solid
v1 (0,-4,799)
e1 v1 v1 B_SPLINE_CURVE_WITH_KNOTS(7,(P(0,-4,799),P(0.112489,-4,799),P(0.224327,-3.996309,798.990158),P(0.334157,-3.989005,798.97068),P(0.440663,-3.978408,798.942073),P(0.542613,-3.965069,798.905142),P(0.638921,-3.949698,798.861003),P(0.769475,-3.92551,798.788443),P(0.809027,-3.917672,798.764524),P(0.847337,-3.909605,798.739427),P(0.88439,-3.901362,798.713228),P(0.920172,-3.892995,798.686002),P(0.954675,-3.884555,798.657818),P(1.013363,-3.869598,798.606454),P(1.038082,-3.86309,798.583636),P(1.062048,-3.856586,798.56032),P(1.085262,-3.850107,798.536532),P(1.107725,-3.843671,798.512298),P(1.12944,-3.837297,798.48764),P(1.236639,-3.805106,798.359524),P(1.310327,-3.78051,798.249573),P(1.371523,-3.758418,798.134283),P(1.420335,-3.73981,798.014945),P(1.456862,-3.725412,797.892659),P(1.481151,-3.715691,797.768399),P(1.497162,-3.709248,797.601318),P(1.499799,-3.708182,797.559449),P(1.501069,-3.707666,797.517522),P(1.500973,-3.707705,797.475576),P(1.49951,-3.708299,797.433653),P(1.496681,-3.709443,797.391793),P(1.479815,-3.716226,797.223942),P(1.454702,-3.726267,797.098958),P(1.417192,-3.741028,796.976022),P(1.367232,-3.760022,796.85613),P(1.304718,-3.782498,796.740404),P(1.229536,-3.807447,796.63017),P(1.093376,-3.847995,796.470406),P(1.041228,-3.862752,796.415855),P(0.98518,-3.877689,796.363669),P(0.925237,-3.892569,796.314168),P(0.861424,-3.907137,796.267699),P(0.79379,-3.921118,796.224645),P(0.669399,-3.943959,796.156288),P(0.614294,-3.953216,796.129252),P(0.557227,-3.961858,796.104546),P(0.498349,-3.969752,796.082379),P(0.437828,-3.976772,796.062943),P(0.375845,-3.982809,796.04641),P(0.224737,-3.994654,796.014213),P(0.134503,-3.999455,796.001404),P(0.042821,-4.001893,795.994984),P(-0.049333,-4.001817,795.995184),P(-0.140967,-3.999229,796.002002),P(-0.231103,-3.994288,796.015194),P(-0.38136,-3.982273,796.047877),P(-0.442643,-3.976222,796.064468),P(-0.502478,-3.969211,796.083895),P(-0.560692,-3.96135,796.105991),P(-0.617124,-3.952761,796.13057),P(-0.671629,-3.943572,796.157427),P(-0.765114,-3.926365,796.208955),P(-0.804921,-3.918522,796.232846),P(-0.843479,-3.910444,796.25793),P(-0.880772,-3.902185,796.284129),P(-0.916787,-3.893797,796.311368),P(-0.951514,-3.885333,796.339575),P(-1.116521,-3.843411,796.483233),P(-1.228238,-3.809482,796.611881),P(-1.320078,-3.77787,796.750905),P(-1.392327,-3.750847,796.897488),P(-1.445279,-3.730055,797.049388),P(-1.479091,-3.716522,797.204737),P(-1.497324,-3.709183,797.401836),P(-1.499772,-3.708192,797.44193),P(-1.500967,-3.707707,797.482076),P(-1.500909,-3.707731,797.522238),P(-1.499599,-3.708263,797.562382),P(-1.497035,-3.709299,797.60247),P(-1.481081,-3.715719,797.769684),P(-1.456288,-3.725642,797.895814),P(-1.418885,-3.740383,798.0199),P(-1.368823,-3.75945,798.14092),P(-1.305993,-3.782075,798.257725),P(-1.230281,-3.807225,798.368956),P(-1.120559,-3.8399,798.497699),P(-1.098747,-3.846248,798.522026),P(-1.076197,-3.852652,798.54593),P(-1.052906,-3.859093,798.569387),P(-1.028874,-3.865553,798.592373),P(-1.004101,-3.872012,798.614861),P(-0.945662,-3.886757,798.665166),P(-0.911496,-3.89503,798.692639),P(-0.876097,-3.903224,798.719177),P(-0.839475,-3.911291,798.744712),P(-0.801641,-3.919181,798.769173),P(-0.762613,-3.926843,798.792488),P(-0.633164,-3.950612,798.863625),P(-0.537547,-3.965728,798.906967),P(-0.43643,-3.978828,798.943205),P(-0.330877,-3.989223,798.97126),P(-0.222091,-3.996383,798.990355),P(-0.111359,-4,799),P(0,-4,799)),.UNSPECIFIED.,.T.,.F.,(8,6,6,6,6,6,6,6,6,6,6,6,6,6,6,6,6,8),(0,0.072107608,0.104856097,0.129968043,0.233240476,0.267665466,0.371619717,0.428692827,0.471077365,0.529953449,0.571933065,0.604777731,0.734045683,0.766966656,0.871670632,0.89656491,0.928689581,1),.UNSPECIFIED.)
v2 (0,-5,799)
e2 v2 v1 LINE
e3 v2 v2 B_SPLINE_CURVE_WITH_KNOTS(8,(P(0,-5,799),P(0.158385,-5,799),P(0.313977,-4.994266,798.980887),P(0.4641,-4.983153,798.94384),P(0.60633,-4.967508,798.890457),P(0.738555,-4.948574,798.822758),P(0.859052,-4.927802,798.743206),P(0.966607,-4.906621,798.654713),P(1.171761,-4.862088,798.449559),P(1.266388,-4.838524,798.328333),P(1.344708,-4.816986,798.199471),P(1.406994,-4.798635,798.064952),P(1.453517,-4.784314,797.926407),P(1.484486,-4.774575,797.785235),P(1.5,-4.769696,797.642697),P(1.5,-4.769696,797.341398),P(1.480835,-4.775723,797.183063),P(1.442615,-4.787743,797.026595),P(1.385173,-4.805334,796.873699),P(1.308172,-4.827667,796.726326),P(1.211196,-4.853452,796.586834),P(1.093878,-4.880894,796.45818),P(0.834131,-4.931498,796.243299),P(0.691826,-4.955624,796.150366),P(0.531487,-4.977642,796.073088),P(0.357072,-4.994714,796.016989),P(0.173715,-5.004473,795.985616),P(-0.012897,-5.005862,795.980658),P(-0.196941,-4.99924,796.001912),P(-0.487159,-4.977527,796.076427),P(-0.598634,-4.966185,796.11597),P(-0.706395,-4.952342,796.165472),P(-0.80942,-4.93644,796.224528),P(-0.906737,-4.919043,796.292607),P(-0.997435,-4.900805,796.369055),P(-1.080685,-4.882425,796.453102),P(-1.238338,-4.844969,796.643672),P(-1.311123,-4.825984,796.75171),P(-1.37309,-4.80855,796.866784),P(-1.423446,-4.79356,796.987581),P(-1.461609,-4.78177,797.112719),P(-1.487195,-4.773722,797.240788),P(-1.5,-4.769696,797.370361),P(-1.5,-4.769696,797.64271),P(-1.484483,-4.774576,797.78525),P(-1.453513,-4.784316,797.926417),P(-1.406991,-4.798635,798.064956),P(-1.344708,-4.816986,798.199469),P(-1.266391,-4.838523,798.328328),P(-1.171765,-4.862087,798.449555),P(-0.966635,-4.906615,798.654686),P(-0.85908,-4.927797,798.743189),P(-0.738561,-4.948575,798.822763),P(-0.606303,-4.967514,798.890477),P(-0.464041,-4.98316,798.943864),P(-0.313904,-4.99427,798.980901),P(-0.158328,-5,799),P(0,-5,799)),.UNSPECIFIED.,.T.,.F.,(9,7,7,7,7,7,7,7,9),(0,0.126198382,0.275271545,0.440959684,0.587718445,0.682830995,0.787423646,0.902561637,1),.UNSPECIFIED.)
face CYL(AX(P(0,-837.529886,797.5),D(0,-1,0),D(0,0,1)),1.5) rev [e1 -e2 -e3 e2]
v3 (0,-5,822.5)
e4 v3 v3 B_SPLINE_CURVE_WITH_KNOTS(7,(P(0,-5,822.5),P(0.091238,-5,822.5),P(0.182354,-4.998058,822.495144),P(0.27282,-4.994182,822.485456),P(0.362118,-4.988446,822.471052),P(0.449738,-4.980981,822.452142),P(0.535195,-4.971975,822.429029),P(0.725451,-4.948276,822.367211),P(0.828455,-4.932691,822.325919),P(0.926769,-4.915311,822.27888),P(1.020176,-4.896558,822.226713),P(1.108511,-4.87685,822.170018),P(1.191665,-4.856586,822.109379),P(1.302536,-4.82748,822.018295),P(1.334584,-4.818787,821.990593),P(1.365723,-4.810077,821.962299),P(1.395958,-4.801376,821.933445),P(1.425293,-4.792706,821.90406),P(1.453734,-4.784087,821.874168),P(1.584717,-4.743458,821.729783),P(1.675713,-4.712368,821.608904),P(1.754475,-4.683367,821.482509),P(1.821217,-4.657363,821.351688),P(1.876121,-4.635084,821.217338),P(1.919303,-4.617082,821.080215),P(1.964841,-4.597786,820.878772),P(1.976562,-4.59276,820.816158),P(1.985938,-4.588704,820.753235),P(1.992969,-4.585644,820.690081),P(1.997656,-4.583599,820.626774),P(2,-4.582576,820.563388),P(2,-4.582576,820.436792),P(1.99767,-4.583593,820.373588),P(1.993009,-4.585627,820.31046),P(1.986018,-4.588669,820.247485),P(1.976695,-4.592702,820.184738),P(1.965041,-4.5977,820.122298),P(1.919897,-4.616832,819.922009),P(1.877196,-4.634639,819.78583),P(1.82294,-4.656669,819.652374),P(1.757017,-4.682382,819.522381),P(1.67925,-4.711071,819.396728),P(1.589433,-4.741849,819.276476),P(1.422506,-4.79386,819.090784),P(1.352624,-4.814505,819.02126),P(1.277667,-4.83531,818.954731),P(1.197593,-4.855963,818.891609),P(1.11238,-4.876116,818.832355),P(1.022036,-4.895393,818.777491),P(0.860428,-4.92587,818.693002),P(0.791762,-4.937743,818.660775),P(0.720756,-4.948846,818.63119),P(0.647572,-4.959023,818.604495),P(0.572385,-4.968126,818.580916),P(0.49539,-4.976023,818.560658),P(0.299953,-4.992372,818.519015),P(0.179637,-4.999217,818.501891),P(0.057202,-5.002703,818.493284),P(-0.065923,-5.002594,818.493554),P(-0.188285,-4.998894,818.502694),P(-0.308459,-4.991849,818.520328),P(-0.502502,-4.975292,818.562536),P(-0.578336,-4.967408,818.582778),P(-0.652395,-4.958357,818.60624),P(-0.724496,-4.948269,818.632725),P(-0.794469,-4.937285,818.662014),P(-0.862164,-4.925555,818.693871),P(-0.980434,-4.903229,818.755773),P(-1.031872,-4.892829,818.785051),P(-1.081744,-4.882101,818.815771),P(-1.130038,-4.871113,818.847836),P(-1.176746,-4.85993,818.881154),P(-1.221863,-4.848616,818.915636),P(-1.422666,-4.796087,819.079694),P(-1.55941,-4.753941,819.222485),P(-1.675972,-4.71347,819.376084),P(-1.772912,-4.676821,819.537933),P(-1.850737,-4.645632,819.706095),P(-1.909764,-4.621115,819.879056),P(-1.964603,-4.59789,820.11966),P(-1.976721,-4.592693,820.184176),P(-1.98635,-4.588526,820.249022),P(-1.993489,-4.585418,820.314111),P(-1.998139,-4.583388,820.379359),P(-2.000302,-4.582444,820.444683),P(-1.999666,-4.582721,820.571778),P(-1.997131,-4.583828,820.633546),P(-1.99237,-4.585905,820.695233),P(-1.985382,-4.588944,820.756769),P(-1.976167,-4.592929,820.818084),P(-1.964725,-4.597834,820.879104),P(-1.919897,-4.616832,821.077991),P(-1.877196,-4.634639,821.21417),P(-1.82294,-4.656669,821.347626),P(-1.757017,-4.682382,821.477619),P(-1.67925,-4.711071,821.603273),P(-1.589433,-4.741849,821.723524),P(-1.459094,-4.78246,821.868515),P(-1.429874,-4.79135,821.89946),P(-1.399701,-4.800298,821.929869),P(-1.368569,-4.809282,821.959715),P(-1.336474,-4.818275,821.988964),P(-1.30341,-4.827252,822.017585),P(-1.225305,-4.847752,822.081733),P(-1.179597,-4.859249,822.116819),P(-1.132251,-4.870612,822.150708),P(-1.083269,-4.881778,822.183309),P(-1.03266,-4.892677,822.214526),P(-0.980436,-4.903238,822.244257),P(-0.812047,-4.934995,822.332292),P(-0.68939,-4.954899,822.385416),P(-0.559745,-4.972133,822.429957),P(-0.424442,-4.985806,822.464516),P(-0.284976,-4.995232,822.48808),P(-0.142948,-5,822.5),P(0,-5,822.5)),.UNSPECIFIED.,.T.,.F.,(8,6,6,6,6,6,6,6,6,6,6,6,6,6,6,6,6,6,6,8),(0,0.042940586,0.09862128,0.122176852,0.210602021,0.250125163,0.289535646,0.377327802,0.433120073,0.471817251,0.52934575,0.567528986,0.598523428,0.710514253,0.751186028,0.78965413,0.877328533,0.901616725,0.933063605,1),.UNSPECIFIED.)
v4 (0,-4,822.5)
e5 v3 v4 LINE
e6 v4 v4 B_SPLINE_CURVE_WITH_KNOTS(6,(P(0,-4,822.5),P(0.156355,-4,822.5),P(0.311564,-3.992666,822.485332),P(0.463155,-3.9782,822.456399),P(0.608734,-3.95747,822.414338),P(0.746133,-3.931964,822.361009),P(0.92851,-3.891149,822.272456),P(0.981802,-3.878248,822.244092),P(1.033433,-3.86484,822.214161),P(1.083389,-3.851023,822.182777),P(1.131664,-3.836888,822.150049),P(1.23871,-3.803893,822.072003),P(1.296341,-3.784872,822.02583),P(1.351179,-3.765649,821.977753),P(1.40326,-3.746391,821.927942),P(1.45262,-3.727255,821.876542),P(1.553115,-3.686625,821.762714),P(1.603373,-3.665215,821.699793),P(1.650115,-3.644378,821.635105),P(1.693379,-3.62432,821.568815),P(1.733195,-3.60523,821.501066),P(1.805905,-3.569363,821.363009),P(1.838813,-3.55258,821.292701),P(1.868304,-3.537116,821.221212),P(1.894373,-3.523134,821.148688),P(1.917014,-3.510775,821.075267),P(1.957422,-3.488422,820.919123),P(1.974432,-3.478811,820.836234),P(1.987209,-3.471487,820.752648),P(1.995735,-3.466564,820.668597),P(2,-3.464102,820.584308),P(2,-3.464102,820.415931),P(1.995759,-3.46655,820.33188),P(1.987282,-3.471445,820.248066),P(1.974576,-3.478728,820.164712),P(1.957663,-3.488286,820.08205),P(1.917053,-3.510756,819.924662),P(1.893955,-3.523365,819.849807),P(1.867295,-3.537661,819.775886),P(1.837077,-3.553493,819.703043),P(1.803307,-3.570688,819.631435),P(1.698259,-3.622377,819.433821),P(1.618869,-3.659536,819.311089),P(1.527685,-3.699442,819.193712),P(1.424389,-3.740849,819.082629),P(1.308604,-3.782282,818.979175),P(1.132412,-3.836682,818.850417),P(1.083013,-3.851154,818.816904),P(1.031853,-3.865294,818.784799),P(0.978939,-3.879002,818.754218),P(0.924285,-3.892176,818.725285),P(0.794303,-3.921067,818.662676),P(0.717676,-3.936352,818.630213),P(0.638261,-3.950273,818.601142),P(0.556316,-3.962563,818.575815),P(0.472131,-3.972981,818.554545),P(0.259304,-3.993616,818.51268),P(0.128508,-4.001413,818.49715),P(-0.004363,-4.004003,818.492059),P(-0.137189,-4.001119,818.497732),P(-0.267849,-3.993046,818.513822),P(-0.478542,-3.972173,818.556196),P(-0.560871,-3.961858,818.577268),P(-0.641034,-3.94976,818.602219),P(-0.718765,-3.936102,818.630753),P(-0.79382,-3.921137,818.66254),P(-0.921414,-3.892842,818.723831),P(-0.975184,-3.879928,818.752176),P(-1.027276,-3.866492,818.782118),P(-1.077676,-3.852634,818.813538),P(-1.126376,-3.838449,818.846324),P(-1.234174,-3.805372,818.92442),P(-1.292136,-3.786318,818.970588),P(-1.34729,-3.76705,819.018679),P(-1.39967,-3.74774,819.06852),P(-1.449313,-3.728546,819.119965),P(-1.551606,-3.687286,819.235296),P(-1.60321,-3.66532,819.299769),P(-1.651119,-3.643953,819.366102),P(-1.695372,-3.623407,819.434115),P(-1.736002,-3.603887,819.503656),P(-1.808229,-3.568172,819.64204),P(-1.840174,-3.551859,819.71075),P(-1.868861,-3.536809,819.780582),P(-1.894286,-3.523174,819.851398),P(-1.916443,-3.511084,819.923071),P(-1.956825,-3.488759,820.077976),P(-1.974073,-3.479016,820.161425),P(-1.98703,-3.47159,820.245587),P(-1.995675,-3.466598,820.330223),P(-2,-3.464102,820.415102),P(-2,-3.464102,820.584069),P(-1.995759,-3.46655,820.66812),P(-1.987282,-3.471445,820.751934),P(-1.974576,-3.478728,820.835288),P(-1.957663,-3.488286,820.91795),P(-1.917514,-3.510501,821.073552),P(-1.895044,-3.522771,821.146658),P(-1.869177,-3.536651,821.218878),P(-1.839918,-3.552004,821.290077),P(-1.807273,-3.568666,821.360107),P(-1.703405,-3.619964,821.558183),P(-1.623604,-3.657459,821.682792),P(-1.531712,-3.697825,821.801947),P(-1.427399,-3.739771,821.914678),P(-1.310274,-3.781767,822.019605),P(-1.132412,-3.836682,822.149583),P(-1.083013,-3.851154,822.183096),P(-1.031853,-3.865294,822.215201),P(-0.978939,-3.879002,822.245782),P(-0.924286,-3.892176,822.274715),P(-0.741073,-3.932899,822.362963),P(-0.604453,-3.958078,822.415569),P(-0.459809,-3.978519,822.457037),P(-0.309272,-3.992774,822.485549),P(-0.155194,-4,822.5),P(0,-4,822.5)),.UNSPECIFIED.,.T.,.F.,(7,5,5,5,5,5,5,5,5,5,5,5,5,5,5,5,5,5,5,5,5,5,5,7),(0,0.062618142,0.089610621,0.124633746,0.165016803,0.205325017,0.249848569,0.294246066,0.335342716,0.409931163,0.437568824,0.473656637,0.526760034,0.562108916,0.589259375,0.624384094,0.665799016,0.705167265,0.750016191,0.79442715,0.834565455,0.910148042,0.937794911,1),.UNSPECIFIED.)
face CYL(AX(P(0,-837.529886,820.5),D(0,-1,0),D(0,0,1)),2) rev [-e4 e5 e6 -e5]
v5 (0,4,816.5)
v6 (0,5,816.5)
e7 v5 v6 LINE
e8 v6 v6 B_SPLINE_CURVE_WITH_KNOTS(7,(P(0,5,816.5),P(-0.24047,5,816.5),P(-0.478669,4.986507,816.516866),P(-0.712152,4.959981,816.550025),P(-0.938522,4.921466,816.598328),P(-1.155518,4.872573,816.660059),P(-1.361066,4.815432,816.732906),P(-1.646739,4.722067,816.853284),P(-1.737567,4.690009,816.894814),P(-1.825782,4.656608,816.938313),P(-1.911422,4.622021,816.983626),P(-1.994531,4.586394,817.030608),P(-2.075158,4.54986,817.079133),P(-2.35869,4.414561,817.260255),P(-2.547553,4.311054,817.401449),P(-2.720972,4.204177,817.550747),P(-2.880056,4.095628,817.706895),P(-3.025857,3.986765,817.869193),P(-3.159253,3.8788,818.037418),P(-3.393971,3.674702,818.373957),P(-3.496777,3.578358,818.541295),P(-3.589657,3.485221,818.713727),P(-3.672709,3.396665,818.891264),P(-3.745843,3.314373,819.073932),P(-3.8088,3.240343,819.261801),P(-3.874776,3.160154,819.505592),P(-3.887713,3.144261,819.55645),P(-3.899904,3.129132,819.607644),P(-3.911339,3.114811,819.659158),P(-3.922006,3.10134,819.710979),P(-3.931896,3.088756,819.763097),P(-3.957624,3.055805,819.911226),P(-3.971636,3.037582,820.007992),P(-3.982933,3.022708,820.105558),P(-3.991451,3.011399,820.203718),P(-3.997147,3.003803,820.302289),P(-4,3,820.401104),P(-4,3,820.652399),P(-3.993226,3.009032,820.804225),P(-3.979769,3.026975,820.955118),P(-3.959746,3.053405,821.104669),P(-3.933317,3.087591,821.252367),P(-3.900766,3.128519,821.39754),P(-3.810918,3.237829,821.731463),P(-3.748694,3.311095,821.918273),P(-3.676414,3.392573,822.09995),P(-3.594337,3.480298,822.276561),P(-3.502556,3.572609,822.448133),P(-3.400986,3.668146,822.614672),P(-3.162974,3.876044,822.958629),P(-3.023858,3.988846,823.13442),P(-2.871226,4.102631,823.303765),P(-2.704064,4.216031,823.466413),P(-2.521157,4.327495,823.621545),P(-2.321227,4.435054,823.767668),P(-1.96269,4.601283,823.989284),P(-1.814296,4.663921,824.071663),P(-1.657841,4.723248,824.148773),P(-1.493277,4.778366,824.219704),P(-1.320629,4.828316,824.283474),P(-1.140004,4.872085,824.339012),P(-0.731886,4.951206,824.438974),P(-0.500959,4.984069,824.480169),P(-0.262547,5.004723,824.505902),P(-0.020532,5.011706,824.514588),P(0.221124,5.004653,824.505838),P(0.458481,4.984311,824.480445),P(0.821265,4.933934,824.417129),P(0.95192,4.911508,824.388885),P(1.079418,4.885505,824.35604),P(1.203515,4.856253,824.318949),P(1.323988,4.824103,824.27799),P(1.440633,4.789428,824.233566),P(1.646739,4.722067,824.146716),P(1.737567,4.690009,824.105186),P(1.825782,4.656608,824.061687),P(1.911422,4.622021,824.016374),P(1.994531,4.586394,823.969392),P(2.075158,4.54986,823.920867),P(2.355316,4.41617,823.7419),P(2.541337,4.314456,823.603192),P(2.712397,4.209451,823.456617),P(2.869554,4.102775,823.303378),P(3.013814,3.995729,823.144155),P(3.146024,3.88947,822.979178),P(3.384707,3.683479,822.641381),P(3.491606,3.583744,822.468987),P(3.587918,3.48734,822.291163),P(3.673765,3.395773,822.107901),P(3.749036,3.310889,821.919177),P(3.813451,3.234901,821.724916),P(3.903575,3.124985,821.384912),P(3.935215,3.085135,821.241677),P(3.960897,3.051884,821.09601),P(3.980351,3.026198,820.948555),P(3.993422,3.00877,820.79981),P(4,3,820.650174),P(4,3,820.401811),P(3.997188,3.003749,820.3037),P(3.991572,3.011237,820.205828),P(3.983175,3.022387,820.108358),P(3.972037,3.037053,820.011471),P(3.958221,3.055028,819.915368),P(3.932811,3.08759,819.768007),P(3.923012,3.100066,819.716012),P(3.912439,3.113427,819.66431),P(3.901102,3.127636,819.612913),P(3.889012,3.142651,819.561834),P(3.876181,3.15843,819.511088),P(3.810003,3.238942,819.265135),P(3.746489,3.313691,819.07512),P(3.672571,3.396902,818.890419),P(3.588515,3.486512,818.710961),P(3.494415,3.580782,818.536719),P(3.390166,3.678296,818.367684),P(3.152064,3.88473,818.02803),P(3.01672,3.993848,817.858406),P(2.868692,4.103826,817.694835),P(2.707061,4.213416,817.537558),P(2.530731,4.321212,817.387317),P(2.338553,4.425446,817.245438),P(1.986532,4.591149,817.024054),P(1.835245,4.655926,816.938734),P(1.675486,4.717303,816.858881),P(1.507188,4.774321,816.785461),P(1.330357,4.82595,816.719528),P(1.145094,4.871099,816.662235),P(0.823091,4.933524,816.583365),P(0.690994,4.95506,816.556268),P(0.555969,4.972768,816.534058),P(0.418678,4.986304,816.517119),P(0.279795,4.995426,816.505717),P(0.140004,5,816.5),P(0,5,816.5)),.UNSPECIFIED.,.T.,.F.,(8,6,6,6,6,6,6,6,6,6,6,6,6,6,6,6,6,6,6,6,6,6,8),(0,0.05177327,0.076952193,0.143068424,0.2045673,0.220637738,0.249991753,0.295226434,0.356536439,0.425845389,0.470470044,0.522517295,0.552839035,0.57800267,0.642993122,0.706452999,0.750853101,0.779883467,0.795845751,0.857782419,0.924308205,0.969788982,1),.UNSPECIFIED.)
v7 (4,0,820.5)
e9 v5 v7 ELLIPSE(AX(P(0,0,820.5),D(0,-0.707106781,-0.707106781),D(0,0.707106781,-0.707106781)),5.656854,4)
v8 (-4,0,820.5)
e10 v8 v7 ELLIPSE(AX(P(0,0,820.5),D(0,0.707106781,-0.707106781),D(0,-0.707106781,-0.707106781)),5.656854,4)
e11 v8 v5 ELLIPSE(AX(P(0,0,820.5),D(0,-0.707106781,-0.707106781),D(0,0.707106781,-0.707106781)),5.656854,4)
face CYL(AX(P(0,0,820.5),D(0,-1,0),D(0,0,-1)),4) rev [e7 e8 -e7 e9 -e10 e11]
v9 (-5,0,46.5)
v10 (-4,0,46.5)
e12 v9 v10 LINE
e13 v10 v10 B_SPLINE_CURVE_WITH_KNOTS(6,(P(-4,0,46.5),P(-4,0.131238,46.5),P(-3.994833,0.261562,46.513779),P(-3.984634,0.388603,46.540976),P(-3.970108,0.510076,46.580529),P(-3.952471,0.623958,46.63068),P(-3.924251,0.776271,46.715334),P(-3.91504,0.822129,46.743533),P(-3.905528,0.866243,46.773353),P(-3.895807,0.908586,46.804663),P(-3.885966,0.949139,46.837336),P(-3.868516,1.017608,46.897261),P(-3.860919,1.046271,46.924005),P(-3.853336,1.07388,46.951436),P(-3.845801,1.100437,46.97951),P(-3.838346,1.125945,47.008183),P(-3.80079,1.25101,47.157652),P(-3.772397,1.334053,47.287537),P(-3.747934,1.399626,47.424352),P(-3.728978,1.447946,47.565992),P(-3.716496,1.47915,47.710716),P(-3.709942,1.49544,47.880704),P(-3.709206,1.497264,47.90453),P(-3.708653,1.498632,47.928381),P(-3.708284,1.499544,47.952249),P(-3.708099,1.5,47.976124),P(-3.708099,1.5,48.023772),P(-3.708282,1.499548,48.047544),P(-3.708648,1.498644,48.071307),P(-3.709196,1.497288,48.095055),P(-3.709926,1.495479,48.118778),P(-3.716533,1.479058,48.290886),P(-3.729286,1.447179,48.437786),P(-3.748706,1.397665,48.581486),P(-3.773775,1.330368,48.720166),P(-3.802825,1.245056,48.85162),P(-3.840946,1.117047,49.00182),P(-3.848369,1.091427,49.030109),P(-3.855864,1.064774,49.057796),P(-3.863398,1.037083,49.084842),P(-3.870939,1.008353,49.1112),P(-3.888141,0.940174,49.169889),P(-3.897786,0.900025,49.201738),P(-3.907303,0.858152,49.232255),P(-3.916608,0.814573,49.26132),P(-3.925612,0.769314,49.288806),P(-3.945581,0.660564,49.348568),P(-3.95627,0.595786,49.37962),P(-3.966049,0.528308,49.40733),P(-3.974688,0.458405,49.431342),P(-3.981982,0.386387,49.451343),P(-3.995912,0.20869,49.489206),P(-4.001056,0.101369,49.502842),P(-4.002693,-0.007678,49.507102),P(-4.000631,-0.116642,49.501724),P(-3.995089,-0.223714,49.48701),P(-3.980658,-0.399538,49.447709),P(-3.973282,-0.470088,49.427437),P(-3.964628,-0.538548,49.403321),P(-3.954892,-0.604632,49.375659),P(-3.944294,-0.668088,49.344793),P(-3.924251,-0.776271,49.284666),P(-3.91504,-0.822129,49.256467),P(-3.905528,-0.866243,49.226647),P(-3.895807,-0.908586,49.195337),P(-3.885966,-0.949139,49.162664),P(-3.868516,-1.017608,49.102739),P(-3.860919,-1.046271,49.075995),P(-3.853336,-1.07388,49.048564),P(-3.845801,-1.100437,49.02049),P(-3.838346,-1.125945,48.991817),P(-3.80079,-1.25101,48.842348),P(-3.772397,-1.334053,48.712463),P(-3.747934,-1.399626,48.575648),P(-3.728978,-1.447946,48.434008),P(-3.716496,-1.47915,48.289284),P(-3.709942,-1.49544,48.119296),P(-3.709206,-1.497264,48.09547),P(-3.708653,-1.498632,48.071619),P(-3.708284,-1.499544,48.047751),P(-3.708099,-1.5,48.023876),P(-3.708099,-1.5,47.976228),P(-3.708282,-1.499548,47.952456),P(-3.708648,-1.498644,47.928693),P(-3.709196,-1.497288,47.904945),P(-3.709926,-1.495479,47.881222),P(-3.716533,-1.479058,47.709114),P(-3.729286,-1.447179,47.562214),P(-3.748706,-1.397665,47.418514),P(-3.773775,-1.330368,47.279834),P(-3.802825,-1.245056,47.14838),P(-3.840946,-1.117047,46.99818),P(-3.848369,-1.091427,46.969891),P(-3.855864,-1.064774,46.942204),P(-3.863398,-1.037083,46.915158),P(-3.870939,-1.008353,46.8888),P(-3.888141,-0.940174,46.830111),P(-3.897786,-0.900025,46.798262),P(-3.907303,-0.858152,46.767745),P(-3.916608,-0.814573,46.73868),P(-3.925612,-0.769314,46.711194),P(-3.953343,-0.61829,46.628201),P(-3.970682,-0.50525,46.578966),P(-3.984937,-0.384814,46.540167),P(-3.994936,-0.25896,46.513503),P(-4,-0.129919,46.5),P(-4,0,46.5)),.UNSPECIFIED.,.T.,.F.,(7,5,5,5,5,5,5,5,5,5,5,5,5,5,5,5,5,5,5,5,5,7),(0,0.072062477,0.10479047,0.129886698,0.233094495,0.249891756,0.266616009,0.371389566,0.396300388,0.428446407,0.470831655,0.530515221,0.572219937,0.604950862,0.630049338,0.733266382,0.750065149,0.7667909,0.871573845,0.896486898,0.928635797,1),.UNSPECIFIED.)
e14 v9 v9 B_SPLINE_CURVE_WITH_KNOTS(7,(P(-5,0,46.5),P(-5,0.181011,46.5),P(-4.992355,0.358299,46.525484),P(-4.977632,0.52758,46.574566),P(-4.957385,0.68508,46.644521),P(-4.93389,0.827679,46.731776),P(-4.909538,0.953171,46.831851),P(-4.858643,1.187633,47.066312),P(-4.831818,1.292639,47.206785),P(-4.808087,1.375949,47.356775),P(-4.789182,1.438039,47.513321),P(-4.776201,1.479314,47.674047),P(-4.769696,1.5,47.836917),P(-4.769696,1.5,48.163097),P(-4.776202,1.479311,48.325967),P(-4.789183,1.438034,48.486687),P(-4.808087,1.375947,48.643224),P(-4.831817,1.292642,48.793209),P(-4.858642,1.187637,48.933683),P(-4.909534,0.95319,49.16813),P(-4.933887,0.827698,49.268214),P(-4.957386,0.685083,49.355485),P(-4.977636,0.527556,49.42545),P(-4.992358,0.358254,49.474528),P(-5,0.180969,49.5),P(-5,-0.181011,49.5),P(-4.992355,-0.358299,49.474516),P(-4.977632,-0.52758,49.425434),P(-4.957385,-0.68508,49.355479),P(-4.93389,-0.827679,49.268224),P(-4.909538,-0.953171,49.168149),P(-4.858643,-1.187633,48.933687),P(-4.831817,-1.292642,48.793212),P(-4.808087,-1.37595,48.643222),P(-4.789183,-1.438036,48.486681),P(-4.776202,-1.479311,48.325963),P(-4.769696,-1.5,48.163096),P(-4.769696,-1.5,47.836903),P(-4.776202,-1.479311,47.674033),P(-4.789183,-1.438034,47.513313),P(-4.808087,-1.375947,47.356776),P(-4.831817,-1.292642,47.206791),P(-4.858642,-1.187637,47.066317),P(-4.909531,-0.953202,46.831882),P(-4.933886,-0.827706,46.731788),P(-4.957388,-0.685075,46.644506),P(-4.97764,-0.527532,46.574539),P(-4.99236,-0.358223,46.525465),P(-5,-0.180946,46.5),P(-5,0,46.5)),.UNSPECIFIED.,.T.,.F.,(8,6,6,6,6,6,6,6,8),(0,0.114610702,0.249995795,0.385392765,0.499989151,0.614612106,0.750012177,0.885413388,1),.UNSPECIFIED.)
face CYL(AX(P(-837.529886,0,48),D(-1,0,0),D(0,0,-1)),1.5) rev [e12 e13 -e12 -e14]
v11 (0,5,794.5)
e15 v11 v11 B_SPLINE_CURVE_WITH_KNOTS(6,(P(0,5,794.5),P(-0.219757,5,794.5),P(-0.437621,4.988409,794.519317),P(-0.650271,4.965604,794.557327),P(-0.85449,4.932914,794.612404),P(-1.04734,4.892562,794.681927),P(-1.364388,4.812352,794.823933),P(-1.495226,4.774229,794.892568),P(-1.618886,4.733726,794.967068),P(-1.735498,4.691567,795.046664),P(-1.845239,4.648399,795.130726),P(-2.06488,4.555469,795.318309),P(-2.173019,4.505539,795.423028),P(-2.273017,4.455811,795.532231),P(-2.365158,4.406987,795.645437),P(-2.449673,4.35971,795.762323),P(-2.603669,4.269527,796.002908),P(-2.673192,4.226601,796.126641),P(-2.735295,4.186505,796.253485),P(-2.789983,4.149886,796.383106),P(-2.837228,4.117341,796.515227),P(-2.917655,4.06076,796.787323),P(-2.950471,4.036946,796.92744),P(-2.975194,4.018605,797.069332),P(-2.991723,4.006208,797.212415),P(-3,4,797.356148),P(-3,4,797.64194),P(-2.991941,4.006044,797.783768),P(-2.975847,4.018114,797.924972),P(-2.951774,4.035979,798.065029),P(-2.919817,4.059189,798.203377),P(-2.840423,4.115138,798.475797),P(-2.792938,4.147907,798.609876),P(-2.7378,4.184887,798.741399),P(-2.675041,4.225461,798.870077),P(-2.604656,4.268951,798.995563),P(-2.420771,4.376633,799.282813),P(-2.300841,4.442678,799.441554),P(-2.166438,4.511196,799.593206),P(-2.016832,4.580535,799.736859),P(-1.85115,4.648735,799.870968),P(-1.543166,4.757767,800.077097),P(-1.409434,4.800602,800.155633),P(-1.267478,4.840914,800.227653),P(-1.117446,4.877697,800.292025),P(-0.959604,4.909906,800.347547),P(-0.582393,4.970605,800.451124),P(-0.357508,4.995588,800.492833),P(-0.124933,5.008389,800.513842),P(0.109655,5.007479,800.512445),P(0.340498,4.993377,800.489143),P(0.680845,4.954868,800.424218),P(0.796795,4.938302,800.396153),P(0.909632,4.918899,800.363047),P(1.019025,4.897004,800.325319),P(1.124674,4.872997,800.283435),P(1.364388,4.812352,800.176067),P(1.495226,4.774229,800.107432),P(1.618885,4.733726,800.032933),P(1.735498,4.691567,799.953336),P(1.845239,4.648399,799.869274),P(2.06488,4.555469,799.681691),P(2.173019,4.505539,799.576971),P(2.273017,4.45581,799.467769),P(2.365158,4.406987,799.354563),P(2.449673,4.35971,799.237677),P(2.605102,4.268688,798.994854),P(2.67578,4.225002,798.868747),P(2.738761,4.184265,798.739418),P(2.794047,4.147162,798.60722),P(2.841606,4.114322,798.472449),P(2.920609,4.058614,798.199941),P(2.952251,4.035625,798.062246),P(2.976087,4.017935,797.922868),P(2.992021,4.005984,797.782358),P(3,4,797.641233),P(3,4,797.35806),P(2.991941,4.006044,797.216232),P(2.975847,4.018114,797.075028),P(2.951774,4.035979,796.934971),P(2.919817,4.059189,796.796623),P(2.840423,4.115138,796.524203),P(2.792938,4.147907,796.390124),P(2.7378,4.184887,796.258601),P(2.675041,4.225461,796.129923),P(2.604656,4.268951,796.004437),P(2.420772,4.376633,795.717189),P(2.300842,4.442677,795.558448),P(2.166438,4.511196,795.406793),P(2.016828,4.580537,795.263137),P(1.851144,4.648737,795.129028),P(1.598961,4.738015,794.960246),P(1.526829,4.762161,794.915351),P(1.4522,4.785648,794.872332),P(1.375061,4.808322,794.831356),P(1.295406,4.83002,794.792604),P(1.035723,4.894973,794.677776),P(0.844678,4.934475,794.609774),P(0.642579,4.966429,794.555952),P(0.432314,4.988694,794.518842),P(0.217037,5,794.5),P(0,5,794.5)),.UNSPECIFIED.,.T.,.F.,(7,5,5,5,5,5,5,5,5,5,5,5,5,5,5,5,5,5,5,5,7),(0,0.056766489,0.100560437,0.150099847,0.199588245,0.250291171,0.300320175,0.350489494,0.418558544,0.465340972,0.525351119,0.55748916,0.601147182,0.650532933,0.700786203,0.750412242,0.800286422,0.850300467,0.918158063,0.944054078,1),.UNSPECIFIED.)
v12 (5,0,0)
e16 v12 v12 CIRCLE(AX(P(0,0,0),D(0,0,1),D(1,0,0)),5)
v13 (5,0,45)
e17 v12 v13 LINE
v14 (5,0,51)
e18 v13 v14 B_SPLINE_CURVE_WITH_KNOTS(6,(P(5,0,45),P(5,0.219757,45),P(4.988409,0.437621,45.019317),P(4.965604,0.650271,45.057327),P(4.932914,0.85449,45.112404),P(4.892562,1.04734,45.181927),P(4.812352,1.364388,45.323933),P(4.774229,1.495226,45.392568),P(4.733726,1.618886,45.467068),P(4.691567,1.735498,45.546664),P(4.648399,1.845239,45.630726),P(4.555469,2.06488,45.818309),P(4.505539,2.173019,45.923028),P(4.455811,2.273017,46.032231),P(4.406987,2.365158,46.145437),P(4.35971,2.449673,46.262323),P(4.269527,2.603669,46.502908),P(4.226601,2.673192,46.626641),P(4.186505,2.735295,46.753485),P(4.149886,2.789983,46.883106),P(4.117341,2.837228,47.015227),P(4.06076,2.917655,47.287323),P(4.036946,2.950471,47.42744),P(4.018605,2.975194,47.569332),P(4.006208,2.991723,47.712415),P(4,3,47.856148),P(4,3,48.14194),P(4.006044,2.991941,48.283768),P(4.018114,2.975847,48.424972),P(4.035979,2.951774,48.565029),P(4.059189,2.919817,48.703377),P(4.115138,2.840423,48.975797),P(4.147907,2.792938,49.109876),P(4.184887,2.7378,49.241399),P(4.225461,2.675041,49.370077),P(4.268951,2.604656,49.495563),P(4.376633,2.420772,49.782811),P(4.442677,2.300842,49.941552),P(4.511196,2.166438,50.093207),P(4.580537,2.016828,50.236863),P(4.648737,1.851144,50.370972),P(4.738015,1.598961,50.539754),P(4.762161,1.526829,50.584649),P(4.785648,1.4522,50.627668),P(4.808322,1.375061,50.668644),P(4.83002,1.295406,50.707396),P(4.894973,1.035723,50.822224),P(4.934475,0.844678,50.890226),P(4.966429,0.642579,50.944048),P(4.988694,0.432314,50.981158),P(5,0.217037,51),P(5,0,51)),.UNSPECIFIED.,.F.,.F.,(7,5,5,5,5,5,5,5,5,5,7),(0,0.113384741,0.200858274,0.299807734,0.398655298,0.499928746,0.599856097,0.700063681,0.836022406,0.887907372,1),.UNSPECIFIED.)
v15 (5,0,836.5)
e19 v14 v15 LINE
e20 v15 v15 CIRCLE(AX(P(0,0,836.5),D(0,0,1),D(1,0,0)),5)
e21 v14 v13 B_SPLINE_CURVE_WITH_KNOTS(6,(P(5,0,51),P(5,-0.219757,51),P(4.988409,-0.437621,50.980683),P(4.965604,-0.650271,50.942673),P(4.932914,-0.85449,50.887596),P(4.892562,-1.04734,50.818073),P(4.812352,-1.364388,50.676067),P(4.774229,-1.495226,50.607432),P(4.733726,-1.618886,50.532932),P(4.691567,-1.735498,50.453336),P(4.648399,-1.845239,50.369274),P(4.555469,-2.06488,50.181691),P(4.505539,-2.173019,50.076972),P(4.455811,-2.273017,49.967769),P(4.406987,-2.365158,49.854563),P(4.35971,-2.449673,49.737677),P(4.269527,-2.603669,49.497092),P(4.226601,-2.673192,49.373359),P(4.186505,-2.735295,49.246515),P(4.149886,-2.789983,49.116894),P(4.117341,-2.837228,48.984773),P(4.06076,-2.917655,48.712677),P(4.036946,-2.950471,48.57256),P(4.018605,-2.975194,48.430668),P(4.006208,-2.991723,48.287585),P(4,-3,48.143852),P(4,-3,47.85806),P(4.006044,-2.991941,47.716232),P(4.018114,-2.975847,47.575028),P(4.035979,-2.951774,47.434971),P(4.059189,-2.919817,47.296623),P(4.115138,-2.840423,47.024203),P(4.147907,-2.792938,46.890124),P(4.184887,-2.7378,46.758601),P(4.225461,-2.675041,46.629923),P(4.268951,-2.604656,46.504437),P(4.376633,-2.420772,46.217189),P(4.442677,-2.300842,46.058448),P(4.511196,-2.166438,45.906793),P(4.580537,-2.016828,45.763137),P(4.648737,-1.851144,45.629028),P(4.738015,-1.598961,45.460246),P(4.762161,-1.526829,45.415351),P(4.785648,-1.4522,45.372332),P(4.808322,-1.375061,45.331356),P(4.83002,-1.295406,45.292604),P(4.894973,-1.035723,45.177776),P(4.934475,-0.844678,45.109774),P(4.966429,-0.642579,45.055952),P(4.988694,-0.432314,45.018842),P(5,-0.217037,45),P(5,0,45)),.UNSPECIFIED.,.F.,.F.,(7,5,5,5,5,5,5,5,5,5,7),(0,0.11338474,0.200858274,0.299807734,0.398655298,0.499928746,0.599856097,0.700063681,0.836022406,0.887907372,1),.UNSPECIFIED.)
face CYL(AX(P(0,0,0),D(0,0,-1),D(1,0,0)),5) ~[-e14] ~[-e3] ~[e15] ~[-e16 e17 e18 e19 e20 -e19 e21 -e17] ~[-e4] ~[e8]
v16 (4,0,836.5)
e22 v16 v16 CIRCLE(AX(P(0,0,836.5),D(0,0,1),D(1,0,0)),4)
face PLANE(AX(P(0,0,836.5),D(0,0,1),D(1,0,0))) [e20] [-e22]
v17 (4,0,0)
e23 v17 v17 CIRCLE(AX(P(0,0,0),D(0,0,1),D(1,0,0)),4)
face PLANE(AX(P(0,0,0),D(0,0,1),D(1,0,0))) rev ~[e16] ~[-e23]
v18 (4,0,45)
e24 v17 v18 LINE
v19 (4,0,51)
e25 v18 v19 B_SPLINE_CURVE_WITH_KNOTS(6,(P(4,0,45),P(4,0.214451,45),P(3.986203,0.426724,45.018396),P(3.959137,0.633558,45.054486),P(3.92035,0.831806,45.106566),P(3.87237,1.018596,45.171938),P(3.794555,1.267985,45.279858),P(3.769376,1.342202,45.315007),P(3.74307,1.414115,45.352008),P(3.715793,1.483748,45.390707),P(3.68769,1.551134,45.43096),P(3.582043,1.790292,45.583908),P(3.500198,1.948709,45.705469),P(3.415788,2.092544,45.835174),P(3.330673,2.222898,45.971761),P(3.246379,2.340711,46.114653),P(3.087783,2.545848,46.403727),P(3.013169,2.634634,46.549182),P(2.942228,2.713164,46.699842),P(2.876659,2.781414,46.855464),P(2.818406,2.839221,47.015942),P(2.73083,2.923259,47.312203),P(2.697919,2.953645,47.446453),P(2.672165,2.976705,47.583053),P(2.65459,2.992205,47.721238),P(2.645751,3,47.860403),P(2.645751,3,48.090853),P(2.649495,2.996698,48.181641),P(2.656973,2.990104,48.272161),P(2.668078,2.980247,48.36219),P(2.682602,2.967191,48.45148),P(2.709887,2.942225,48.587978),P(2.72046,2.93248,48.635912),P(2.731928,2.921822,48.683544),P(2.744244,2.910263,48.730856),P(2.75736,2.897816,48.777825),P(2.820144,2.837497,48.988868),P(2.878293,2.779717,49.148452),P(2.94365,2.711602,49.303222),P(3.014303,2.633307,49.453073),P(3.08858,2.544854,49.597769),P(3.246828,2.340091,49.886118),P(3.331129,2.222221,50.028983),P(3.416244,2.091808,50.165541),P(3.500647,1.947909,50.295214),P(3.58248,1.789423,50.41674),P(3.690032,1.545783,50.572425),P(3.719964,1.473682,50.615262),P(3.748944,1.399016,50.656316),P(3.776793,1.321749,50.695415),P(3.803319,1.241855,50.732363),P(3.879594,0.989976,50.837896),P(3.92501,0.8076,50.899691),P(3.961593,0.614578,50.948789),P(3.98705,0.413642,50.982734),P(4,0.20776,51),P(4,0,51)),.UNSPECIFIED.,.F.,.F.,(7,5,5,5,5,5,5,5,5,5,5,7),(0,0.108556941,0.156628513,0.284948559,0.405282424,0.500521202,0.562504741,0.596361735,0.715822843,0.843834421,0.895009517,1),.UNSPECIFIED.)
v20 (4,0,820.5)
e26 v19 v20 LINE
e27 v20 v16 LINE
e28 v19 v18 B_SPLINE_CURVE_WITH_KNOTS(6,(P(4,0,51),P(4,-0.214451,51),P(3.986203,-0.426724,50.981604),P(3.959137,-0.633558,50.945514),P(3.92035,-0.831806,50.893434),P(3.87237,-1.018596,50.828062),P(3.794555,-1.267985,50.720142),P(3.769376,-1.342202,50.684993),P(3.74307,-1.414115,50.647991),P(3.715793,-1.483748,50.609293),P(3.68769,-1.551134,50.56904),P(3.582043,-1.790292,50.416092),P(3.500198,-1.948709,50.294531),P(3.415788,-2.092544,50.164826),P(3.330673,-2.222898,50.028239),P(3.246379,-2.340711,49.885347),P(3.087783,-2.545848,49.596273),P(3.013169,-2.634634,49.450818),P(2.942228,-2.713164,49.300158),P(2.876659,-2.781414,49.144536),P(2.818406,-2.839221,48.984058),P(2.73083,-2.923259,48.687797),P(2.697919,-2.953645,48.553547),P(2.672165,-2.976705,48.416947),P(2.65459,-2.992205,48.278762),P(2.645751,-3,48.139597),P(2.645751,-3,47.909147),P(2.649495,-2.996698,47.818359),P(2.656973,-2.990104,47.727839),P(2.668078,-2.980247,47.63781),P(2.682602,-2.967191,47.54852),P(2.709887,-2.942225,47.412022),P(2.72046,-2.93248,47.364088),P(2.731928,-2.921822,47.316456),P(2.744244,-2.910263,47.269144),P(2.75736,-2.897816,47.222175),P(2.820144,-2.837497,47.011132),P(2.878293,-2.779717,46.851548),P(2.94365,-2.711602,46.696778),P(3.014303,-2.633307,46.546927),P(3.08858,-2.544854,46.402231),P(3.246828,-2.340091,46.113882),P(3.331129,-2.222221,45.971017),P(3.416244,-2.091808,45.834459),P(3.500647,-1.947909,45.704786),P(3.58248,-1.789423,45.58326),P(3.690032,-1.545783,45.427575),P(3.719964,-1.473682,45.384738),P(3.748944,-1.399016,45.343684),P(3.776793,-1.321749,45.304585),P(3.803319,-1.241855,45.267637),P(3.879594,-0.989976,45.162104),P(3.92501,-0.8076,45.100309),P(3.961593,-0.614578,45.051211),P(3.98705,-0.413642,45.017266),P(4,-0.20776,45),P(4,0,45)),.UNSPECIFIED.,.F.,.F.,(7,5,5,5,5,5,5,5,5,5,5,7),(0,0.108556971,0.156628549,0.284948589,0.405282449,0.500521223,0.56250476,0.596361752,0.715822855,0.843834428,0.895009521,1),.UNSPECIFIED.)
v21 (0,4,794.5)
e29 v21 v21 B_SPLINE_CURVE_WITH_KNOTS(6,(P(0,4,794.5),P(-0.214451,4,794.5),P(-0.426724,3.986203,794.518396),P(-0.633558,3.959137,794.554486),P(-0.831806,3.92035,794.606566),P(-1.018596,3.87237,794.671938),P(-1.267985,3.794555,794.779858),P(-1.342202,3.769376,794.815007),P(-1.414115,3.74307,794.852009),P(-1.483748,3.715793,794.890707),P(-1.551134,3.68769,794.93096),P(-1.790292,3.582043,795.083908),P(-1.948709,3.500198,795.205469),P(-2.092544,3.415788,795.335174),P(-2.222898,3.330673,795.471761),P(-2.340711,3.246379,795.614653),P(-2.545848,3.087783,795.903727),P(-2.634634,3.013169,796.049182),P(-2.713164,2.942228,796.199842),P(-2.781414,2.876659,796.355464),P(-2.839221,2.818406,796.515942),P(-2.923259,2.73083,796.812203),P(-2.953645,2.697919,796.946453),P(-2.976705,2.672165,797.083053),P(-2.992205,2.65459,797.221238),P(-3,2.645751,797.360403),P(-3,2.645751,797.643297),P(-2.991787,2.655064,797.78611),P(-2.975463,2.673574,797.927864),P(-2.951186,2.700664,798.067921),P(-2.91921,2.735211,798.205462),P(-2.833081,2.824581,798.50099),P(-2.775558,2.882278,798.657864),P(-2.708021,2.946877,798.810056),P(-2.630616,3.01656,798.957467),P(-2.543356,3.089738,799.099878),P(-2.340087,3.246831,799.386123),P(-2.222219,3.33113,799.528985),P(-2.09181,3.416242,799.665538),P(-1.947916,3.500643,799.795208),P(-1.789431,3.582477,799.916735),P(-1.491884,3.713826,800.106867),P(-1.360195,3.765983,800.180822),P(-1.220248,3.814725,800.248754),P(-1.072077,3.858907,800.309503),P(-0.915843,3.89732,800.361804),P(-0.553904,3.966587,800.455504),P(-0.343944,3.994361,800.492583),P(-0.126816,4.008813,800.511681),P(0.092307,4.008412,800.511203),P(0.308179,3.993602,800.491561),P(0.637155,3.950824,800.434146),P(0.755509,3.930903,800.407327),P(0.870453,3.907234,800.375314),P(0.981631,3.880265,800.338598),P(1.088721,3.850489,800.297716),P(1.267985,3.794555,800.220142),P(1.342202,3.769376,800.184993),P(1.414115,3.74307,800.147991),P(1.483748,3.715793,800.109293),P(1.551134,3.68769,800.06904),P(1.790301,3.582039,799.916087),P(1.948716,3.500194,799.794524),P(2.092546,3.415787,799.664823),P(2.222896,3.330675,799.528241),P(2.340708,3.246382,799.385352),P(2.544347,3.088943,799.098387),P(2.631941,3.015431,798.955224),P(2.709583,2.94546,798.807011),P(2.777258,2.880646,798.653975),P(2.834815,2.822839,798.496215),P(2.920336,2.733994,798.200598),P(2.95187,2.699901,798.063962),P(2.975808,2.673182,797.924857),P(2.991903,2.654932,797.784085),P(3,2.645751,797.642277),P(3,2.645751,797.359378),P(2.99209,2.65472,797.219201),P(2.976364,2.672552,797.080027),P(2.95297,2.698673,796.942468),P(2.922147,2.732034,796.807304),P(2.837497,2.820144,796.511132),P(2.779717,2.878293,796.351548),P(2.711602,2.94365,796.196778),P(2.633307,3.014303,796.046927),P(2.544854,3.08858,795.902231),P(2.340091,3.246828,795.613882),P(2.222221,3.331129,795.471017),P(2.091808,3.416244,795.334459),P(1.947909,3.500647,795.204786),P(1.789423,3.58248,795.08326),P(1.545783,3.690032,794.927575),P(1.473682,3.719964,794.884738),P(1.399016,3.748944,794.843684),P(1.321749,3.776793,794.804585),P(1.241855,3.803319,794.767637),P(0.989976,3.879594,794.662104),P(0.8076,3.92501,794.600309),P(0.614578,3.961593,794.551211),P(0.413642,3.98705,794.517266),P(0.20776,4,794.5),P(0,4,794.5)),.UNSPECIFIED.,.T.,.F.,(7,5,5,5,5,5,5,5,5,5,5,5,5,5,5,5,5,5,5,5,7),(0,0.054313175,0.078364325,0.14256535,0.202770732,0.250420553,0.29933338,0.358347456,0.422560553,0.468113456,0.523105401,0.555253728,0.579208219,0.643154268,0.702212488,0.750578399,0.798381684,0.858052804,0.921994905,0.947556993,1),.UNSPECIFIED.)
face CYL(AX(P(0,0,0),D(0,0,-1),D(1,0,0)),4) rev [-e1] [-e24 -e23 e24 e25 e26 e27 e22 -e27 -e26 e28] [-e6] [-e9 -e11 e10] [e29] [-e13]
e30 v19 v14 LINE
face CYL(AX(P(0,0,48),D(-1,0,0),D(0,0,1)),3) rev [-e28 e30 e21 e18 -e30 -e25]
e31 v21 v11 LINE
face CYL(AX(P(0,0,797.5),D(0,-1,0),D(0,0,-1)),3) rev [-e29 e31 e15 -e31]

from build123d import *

# Parameters (mm, degrees)
SKETCH_1_R               = 5
SKETCH_1_R_2             = 4
EXTRUDE_1_DEPTH          = 836.5
CUT_EXTRUDE_1_DEPTH      = 837.529885898
CUT_EXTRUDE_1_DEPTH_BACK = 837.529885898
SKETCH_2_R               = 2
SKETCH_2_R_2             = 1.5
SKETCH_2_3_R             = 4
SKETCH_2_3_R_2           = 3
CUT_EXTRUDE_2_DEPTH      = 837.529885999
CUT_EXTRUDE_3_DEPTH      = 837.529885999
CUT_EXTRUDE_3_DEPTH_BACK = 837.529885999
SKETCH_3_R               = 1.5
SKETCH_3_3_R             = 3
CUT_EXTRUDE_4_DEPTH      = 10


with BuildPart() as part:
    # ｽｹｯﾁ1 → 押し出し-薄板1 (new body)
    with BuildSketch(Plane.XY):
        Circle(SKETCH_1_R)
        Circle(SKETCH_1_R_2, mode=Mode.SUBTRACT)
    extrude(amount=EXTRUDE_1_DEPTH)

    # ｽｹｯﾁ2 → ｶｯﾄ - 押し出し1 (cut, two sides: drawn at the far end of the back side and taken through both)
    with BuildSketch(Plane(origin=(0, 0, 0), x_dir=(1, 0, 0), z_dir=(0, 1, 0)).offset(-CUT_EXTRUDE_1_DEPTH_BACK)):
        with Locations((0, -820.5)):
            Circle(SKETCH_2_R)
        with Locations((0, -797.5)):
            Circle(SKETCH_2_R_2)
    extrude(amount=CUT_EXTRUDE_1_DEPTH + CUT_EXTRUDE_1_DEPTH_BACK, mode=Mode.SUBTRACT)

    # ｽｹｯﾁ2<3> → ｶｯﾄ - 押し出し2 (cut, through all)
    with BuildSketch(Plane(origin=(0, 0, 0), x_dir=(1, 0, 0), z_dir=(0, 1, 0))):
        with Locations((0, -820.5)):
            Circle(SKETCH_2_3_R)
        with Locations((0, -797.5)):
            Circle(SKETCH_2_3_R_2)
    extrude(amount=CUT_EXTRUDE_2_DEPTH, mode=Mode.SUBTRACT)

    # ｽｹｯﾁ3 → ｶｯﾄ - 押し出し3 (cut, two sides: drawn at the far end of the back side and taken through both)
    with BuildSketch(Plane(origin=(0, 0, 0), x_dir=(0, 0, -1), z_dir=(1, 0, 0)).offset(-CUT_EXTRUDE_3_DEPTH_BACK)):
        with Locations((-48, 0)):
            Circle(SKETCH_3_R)
    extrude(amount=CUT_EXTRUDE_3_DEPTH + CUT_EXTRUDE_3_DEPTH_BACK, mode=Mode.SUBTRACT)

    # ｽｹｯﾁ3<3> → ｶｯﾄ - 押し出し4 (cut)
    with BuildSketch(Plane(origin=(0, 0, 0), x_dir=(0, 0, -1), z_dir=(1, 0, 0))):
        with Locations((-48, 0)):
            Circle(SKETCH_3_3_R)
    extrude(amount=CUT_EXTRUDE_4_DEPTH, mode=Mode.SUBTRACT)


solid = part.part
